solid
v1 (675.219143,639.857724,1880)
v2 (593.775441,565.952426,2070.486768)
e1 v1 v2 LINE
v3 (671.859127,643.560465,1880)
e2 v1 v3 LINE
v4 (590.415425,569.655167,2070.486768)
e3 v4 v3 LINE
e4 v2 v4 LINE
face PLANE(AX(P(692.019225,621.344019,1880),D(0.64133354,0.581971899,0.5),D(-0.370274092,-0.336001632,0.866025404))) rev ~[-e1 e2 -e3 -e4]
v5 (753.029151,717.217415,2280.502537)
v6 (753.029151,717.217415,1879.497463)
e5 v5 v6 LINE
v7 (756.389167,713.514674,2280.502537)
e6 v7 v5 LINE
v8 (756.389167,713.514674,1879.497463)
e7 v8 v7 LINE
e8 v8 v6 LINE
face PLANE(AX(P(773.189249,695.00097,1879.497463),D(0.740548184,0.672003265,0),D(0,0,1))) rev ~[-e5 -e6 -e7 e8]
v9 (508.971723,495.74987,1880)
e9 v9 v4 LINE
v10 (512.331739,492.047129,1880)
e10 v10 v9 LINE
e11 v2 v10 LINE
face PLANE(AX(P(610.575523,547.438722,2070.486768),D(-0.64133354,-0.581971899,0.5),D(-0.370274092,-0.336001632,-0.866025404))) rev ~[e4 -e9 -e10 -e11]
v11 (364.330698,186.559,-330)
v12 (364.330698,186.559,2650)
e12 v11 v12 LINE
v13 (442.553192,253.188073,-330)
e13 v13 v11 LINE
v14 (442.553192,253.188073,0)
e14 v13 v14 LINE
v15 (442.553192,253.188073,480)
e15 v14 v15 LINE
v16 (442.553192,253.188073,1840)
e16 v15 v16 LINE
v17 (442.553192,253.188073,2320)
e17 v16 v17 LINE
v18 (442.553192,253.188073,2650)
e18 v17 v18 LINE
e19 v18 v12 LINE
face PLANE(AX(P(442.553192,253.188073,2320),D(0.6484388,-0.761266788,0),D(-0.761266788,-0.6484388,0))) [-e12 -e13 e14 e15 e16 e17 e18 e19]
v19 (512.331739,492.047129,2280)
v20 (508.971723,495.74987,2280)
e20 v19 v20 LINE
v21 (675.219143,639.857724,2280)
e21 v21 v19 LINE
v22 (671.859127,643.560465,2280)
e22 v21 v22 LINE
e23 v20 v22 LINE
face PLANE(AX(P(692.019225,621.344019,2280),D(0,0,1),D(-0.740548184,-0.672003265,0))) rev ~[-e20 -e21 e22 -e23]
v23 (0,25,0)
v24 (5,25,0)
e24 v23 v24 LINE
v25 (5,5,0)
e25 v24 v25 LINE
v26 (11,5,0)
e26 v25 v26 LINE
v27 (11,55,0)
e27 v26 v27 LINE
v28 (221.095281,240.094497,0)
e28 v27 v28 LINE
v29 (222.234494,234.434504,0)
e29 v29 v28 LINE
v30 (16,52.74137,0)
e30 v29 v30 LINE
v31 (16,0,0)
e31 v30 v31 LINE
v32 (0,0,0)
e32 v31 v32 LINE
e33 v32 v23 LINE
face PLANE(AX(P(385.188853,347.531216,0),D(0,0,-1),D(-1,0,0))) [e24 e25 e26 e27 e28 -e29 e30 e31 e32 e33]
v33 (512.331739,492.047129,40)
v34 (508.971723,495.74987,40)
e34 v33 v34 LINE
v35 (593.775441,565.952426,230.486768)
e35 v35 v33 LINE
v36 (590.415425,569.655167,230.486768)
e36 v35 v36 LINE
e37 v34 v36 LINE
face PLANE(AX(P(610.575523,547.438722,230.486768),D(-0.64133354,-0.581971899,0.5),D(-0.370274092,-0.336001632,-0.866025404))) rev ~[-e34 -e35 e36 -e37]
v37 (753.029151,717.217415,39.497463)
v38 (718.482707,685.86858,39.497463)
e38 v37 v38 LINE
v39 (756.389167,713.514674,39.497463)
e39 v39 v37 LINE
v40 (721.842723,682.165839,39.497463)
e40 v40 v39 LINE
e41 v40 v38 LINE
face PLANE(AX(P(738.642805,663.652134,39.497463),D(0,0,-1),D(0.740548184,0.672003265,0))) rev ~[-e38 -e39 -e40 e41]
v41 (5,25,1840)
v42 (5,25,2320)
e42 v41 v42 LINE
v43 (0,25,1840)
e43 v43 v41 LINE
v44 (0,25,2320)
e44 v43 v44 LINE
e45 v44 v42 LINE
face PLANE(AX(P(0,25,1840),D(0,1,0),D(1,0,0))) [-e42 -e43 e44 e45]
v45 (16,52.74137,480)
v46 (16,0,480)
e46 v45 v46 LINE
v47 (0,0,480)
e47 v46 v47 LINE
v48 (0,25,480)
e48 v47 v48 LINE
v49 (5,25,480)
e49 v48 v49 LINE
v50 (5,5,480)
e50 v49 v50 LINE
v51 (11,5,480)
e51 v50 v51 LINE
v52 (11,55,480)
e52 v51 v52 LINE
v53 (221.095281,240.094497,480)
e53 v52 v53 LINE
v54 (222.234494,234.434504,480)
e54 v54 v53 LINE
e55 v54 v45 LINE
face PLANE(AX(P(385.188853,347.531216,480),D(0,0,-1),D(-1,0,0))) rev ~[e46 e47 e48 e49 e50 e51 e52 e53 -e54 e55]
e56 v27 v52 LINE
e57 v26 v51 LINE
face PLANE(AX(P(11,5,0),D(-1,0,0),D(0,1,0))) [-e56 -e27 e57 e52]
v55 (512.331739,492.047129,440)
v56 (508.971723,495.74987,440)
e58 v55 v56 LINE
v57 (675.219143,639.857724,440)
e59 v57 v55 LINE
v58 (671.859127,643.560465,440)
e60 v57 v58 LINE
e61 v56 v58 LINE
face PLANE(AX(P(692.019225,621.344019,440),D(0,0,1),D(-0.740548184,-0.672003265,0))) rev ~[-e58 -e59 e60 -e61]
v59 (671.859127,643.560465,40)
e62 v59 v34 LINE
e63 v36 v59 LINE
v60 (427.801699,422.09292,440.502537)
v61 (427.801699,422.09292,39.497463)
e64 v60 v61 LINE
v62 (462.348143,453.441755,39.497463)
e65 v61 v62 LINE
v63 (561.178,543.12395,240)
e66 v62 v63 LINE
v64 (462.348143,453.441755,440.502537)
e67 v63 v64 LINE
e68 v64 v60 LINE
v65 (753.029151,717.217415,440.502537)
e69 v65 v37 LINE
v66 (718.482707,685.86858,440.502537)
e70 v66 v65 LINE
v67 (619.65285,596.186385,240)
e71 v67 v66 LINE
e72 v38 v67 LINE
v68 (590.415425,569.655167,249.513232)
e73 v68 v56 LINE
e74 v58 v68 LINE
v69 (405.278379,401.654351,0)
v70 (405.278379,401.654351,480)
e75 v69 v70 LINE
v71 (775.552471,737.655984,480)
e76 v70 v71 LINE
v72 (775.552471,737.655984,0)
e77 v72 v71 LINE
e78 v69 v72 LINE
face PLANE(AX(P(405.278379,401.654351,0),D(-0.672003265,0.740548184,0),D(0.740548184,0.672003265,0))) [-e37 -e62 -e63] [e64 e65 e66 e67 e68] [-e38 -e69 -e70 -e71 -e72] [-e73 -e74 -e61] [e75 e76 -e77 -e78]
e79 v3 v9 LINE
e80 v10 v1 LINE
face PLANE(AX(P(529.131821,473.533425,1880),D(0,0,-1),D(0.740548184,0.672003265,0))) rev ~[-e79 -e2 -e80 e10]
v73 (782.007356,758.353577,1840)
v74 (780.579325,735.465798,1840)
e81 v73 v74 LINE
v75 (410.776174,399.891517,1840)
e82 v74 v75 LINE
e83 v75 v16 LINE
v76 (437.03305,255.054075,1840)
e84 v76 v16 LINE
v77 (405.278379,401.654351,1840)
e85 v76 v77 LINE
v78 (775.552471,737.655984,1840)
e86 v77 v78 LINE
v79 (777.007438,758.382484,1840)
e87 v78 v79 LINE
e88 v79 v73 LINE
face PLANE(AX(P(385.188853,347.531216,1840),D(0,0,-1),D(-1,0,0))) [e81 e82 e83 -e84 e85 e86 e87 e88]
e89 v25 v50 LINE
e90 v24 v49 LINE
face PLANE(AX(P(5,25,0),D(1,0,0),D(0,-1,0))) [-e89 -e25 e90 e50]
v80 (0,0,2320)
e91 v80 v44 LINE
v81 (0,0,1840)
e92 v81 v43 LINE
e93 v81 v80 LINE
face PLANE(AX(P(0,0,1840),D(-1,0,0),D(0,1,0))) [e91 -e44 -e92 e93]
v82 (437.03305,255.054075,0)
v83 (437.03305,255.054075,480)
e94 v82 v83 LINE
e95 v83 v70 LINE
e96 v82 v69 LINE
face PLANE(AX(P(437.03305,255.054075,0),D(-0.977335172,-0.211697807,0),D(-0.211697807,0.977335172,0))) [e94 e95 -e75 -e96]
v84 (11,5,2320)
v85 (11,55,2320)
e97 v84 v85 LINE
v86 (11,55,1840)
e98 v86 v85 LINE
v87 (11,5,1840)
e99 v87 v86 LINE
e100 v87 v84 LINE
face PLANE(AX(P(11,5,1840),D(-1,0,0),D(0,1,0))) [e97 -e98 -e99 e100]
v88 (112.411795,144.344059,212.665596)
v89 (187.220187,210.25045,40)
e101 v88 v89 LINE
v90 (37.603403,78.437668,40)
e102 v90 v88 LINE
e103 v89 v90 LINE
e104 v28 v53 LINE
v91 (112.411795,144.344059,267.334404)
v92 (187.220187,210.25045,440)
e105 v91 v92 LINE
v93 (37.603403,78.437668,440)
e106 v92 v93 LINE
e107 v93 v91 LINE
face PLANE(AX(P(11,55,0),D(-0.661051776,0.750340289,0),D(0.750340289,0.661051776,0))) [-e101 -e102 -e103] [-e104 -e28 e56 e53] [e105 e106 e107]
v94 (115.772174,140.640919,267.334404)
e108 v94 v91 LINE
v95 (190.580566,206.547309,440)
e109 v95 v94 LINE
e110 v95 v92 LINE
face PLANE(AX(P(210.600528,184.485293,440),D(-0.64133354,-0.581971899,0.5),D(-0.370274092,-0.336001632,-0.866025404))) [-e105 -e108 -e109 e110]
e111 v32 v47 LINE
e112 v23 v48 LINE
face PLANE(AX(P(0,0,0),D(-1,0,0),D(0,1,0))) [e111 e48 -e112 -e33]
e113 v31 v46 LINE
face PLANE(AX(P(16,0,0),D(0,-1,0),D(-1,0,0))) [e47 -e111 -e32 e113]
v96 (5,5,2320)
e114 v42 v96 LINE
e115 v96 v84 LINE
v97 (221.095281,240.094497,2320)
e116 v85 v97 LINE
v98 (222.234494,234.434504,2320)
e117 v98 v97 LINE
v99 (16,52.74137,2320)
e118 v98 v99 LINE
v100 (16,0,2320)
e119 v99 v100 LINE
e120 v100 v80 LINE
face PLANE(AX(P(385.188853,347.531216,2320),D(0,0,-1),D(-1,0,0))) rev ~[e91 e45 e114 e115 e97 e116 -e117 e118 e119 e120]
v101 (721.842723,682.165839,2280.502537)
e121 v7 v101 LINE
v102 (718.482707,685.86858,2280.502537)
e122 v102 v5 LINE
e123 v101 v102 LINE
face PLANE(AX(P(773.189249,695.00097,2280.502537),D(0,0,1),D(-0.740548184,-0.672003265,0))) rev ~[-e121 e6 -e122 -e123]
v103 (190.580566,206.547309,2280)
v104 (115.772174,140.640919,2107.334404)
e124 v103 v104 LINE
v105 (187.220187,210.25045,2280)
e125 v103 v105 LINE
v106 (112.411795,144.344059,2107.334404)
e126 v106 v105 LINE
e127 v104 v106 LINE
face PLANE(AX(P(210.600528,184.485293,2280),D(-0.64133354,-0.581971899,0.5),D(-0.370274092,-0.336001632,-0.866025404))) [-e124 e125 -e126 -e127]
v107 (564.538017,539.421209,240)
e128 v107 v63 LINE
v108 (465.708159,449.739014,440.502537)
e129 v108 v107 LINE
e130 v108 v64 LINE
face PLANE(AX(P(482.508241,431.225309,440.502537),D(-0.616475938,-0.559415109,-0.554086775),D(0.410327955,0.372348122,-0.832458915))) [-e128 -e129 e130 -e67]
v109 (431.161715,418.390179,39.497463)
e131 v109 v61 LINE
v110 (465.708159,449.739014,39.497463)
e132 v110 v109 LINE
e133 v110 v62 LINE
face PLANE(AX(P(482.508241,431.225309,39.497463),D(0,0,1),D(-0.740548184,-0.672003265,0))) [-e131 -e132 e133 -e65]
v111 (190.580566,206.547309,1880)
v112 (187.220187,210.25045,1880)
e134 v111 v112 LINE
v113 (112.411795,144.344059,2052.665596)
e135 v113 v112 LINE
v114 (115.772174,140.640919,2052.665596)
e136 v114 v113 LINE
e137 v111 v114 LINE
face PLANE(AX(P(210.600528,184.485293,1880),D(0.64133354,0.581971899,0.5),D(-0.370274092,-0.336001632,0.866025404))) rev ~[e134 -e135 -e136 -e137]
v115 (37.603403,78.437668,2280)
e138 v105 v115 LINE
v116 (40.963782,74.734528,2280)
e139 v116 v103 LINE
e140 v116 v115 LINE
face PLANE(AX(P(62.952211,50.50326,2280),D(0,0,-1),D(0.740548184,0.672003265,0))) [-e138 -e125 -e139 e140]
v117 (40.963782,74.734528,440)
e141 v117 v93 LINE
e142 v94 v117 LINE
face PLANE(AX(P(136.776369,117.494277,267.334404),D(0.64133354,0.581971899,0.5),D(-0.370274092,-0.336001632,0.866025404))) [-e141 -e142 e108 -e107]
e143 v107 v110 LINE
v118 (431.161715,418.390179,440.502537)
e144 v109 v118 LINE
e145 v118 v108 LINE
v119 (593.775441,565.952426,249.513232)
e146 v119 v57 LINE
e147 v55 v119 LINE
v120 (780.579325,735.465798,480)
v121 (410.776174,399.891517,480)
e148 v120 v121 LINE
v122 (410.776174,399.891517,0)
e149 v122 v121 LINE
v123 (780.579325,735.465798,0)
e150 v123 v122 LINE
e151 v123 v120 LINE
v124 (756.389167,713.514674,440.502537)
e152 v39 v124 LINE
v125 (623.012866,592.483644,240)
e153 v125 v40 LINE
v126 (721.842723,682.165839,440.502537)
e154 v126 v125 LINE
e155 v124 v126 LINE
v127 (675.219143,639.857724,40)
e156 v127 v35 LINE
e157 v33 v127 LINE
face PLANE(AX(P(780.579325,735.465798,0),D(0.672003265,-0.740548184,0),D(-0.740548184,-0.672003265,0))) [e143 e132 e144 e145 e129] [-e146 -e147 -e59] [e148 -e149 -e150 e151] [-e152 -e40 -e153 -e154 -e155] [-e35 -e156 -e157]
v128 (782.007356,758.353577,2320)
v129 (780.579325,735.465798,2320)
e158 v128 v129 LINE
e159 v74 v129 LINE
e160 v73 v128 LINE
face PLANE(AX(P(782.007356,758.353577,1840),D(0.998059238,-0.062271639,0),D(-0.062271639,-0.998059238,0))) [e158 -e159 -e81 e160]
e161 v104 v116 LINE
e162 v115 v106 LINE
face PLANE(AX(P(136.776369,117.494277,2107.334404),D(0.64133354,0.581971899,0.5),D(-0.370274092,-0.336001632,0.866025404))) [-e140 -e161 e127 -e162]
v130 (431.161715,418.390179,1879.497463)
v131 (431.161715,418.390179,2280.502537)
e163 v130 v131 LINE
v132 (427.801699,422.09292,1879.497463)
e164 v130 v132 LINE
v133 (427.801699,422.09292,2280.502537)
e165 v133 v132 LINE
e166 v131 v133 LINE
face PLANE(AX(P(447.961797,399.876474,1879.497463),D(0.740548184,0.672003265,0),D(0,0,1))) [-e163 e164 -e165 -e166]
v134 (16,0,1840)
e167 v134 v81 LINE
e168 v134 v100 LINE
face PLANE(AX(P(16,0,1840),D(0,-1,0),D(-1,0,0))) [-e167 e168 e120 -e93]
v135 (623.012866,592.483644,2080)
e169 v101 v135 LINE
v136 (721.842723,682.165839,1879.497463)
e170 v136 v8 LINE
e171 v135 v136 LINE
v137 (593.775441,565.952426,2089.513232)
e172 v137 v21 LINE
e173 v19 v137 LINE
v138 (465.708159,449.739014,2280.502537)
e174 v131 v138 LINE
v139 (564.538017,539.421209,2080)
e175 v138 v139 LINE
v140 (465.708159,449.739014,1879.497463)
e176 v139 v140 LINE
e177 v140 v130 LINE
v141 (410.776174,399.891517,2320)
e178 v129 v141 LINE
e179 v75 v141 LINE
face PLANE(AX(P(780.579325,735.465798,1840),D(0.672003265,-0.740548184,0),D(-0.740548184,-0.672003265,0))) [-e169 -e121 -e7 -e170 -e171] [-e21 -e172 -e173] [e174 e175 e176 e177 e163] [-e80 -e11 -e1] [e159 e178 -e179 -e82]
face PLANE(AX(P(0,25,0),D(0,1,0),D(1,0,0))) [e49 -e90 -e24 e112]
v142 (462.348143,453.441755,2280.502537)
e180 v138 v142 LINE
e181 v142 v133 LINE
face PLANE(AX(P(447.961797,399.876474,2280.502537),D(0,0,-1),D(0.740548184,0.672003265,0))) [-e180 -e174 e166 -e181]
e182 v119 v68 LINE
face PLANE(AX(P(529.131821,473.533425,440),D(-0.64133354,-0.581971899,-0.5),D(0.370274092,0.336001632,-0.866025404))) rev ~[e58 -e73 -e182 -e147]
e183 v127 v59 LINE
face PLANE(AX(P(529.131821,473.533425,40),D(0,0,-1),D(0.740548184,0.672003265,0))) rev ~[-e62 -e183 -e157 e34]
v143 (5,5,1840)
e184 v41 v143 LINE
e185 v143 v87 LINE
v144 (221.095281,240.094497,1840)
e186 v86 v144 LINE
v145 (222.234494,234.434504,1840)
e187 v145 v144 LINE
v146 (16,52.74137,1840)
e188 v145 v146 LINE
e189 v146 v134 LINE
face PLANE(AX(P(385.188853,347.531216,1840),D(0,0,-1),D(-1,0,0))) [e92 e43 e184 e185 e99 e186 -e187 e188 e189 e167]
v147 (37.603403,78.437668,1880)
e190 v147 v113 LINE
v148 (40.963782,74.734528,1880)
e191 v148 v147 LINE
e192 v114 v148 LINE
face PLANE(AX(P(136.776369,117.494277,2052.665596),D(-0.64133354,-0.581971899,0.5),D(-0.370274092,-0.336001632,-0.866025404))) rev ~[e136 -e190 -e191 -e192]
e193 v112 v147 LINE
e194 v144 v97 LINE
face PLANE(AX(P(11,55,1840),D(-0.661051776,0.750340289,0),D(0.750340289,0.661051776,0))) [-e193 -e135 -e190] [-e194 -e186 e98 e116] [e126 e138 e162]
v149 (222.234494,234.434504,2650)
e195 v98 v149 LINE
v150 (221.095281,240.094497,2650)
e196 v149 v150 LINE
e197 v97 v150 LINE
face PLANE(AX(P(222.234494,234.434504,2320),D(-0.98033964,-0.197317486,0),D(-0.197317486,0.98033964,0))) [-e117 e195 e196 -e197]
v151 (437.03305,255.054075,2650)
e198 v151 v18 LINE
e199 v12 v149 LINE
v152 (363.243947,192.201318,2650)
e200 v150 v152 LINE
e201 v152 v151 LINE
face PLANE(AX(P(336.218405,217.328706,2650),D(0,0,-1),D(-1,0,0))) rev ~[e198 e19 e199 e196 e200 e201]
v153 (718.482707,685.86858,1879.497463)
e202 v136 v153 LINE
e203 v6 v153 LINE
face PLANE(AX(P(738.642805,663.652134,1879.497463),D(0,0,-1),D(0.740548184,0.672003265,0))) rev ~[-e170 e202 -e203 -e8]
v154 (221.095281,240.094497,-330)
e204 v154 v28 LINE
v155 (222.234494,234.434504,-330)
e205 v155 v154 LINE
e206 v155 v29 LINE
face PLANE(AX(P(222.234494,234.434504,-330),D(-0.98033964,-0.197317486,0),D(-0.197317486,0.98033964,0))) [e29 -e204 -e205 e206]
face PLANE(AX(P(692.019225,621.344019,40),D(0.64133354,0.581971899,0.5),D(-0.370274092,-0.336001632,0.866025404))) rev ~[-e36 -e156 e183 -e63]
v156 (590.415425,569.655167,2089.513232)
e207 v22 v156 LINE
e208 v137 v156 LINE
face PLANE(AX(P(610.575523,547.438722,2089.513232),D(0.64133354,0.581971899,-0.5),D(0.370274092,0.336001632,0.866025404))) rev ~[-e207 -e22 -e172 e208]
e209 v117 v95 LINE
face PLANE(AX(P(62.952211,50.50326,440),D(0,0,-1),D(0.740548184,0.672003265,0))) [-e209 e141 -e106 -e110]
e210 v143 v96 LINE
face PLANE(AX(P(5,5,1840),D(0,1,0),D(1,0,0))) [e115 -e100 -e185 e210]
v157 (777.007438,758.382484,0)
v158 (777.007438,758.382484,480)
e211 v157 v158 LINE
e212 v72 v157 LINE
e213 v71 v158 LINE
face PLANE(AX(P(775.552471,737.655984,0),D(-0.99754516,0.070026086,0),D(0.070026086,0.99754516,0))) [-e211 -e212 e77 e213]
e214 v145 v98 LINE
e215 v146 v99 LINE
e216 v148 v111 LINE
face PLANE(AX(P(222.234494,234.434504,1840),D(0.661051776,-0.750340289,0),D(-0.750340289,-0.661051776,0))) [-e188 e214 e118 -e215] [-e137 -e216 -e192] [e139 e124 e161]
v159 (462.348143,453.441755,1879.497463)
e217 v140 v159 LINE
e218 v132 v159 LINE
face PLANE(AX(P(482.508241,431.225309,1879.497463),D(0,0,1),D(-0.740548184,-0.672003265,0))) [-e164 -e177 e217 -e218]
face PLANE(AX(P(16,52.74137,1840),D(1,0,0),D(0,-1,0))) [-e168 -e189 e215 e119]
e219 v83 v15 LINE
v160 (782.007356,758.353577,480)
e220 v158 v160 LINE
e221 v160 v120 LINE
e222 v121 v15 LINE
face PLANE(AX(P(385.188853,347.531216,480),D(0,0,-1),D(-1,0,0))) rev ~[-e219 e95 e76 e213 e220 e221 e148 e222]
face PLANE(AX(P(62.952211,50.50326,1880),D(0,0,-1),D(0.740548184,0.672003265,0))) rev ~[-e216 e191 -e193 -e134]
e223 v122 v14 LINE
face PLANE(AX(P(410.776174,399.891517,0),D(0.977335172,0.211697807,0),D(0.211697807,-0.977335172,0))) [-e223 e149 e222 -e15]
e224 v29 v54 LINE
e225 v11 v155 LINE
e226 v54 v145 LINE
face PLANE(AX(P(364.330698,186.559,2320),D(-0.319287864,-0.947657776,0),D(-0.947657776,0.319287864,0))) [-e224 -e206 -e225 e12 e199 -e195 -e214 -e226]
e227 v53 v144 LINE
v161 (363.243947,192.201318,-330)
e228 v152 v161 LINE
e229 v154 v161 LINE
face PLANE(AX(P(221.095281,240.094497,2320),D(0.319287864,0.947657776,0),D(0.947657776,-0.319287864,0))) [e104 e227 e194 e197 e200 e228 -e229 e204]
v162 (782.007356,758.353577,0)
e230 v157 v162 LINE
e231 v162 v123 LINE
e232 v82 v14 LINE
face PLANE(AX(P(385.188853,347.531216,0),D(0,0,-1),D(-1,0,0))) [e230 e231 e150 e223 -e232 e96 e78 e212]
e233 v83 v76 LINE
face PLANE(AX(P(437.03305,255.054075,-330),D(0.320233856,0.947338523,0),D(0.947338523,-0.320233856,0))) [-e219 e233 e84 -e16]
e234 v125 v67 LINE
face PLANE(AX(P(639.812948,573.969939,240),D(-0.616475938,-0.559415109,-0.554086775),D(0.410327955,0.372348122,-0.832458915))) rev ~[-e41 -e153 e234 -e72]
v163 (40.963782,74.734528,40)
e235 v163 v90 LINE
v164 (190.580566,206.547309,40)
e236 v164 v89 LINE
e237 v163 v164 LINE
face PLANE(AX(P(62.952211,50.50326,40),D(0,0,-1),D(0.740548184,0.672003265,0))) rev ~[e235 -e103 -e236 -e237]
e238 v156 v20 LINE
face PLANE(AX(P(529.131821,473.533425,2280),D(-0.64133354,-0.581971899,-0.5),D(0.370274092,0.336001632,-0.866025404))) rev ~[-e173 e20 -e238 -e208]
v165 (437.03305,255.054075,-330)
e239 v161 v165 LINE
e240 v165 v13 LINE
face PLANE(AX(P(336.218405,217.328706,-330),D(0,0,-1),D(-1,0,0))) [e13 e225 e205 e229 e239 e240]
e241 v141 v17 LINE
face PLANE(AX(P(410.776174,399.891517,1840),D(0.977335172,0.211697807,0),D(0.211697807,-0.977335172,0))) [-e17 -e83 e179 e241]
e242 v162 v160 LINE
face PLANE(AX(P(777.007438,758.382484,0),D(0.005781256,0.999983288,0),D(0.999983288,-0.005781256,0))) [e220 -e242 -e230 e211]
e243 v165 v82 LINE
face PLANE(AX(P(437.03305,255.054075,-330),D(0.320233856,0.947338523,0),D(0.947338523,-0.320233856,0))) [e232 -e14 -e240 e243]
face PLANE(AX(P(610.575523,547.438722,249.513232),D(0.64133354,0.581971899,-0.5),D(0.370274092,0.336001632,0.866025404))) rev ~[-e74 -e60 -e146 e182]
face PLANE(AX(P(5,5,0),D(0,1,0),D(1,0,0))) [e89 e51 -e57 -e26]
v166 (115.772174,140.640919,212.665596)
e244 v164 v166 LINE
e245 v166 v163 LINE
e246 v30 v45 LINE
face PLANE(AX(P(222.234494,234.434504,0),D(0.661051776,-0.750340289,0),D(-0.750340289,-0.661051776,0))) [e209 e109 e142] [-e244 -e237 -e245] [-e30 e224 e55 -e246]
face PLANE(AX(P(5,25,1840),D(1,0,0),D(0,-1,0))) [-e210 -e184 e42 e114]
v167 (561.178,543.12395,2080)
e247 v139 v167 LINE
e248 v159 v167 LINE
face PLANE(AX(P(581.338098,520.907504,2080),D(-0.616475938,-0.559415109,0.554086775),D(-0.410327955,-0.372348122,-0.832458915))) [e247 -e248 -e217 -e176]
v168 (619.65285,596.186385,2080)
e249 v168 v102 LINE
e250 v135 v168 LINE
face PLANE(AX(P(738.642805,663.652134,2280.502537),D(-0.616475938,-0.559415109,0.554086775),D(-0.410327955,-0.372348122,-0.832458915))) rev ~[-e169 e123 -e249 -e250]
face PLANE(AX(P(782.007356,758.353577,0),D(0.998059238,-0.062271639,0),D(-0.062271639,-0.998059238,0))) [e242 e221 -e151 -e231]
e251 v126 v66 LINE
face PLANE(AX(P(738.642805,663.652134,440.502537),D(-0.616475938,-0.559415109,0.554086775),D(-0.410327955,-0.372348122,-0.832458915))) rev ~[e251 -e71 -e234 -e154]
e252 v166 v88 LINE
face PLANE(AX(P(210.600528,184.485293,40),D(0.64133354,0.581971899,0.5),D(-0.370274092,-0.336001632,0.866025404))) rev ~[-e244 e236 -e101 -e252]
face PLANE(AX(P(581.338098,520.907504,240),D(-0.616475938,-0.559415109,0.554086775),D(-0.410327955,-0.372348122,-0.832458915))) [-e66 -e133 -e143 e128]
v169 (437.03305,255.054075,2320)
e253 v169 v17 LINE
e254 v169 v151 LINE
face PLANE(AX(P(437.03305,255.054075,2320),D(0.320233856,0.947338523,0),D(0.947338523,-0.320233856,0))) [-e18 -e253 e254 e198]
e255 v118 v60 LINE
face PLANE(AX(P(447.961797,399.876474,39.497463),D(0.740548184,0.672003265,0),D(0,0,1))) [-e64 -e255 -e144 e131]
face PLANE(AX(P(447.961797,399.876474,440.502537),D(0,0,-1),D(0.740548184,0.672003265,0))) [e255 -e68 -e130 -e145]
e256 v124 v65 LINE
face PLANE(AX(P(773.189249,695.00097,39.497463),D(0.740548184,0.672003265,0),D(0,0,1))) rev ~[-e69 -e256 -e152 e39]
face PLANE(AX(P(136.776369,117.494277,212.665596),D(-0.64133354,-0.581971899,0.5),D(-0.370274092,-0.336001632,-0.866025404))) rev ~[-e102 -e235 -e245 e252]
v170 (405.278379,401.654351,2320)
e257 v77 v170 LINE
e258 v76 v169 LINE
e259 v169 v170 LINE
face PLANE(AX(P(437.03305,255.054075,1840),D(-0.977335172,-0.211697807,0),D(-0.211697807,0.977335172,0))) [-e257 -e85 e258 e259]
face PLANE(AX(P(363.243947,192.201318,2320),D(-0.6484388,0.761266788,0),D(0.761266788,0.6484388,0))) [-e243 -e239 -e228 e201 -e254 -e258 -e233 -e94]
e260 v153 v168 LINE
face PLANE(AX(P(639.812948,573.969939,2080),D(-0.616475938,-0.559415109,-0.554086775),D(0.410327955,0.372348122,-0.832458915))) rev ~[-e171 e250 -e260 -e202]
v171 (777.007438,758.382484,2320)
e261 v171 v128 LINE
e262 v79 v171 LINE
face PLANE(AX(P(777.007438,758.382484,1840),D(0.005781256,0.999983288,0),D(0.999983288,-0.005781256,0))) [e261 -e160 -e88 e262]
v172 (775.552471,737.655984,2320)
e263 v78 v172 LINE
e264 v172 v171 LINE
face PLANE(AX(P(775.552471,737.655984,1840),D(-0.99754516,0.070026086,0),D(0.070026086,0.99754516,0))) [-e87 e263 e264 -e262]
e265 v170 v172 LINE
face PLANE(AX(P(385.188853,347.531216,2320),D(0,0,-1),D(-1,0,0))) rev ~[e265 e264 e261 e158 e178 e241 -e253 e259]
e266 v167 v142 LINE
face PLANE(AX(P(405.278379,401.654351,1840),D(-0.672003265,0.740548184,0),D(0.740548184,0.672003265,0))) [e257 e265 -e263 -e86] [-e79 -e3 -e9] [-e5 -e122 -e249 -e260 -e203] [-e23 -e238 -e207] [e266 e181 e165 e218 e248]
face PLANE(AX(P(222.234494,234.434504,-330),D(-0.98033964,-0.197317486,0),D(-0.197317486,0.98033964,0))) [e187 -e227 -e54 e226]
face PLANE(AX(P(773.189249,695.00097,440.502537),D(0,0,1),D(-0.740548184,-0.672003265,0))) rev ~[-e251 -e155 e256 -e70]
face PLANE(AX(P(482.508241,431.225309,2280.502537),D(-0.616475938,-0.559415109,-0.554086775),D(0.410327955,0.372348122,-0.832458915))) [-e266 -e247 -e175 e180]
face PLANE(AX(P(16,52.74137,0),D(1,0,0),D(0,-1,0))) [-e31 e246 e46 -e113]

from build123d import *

# Parameters (mm, degrees)
BOSS_EXTRUDE1_DEPTH      = 480
BOSS_EXTRUDE2_DEPTH      = 1360
BOSS_EXTRUDE2_DEPTH_BACK = 810
BOSS_EXTRUDE3_DEPTH      = 480
BOSS_EXTRUDE4_DEPTH      = 330
CUT_EXTRUDE1_DEPTH       = 10
CUT_EXTRUDE1_DEPTH_BACK  = 30


with BuildPart() as part:
    # Sketch1 → Boss-Extrude1 (new body)
    with BuildSketch(Plane.XY):
        Polygon((11, 5), (11, 55), (221.095281021, 240.094497197), (363.24394737, 192.201317564), (437.033049967, 255.054075403), (405.278378965, 401.65435122), (775.552470826, 737.655983503), (777.007438234, 758.382483739), (782.007355561, 758.353577455), (780.57932456, 735.465798021), (410.776173754, 399.891516629), (442.553191716, 253.188072666), (364.330697573, 186.558999959), (222.23449406, 234.434503647), (16, 52.741369955), (16, 0), (0, 0), (0, 25), (5, 25), (5, 5), align=None)
    extrude(amount=BOSS_EXTRUDE1_DEPTH)

    # Sketch3 → Boss-Extrude2 (add, two sides: drawn at the far end of the back side and taken through both)
    with BuildSketch(Plane.XY.offset(480).offset(-BOSS_EXTRUDE2_DEPTH_BACK)):
        Polygon((221.095281021, 240.094497197), (363.24394737, 192.201317564), (437.033049967, 255.054075403), (442.553191716, 253.188072666), (364.330697573, 186.558999959), (222.23449406, 234.434503647), align=None)
    extrude(amount=BOSS_EXTRUDE2_DEPTH + BOSS_EXTRUDE2_DEPTH_BACK)

    # Sketch4 → Boss-Extrude3 (add)
    with BuildSketch(Plane.XY.offset(1840)):
        Polygon((0, 25), (5, 25), (5, 5), (11, 5), (11, 55), (221.095281021, 240.094497197), (363.24394737, 192.201317564), (437.033049967, 255.054075403), (405.278378965, 401.65435122), (775.552470826, 737.655983503), (777.007438234, 758.382483739), (782.007355561, 758.353577455), (780.57932456, 735.465798021), (410.776173754, 399.891516629), (442.553191716, 253.188072666), (364.330697573, 186.558999959), (222.23449406, 234.434503647), (16, 52.741369955), (16, 0), (0, 0), align=None)
    extrude(amount=BOSS_EXTRUDE3_DEPTH)

    # Sketch5 → Boss-Extrude4 (add)
    with BuildSketch(Plane.XY.offset(2320)):
        Polygon((221.095281021, 240.094497197), (363.24394737, 192.201317564), (437.033049967, 255.054075403), (442.553191716, 253.188072666), (364.330697573, 186.558999959), (222.23449406, 234.434503647), align=None)
    extrude(amount=BOSS_EXTRUDE4_DEPTH)

    # Sketch8 → Cut-Extrude1 (cut, two sides: drawn at the far end of the back side and taken through both)
    with BuildSketch(Plane(origin=(-16.864598334, 18.584802074, 0), x_dir=(0.7405481837211553, 0.672003264565953, 0), z_dir=(-0.672003264565953, 0.7405481837211553, 0)).offset(-CUT_EXTRUDE1_DEPTH_BACK)):
        Polygon((710.063615933, -40), (930.018789449, -40), (820.041202691, -230.486767958), align=None)
        Polygon((780.560416253, -240), (647.105417063, -39.497463328), (600.455591152, -39.497463328), (600.455591152, -440.502536672), (647.105417063, -440.502536672), align=None)
        Polygon((859.521989128, -240), (992.976988318, -39.497463328), (1039.62681423, -39.497463328), (1039.62681423, -440.502536672), (992.976988318, -440.502536672), align=None)
        Polygon((820.041202691, -249.513232042), (930.018789449, -440), (710.063615933, -440), align=None)
        Polygon((80.557501261, -440), (279.934557694, -440), (180.246029478, -267.334404198), align=None)
        Polygon((80.557501261, -40), (279.934557694, -40), (180.246029478, -212.665595802), align=None)
        Polygon((710.063615933, -1880), (930.018789449, -1880), (820.041202691, -2070.486767958), align=None)
        Polygon((992.976988318, -1879.497463328), (1039.62681423, -1879.497463328), (1039.62681423, -2280.502536672), (992.976988318, -2280.502536672), (859.521989128, -2080), align=None)
        Polygon((820.041202691, -2089.513232042), (930.018789449, -2280), (710.063615933, -2280), align=None)
        Polygon((780.560416253, -2080), (647.105417063, -1879.497463328), (600.455591152, -1879.497463328), (600.455591152, -2280.502536672), (647.105417063, -2280.502536672), align=None)
        Polygon((80.557501261, -1880), (279.934557694, -1880), (180.246029478, -2052.665595802), align=None)
        Polygon((279.934557694, -2280), (180.246029478, -2107.334404198), (80.557501261, -2280), align=None)
    extrude(amount=CUT_EXTRUDE1_DEPTH + CUT_EXTRUDE1_DEPTH_BACK, mode=Mode.SUBTRACT)


solid = part.part
